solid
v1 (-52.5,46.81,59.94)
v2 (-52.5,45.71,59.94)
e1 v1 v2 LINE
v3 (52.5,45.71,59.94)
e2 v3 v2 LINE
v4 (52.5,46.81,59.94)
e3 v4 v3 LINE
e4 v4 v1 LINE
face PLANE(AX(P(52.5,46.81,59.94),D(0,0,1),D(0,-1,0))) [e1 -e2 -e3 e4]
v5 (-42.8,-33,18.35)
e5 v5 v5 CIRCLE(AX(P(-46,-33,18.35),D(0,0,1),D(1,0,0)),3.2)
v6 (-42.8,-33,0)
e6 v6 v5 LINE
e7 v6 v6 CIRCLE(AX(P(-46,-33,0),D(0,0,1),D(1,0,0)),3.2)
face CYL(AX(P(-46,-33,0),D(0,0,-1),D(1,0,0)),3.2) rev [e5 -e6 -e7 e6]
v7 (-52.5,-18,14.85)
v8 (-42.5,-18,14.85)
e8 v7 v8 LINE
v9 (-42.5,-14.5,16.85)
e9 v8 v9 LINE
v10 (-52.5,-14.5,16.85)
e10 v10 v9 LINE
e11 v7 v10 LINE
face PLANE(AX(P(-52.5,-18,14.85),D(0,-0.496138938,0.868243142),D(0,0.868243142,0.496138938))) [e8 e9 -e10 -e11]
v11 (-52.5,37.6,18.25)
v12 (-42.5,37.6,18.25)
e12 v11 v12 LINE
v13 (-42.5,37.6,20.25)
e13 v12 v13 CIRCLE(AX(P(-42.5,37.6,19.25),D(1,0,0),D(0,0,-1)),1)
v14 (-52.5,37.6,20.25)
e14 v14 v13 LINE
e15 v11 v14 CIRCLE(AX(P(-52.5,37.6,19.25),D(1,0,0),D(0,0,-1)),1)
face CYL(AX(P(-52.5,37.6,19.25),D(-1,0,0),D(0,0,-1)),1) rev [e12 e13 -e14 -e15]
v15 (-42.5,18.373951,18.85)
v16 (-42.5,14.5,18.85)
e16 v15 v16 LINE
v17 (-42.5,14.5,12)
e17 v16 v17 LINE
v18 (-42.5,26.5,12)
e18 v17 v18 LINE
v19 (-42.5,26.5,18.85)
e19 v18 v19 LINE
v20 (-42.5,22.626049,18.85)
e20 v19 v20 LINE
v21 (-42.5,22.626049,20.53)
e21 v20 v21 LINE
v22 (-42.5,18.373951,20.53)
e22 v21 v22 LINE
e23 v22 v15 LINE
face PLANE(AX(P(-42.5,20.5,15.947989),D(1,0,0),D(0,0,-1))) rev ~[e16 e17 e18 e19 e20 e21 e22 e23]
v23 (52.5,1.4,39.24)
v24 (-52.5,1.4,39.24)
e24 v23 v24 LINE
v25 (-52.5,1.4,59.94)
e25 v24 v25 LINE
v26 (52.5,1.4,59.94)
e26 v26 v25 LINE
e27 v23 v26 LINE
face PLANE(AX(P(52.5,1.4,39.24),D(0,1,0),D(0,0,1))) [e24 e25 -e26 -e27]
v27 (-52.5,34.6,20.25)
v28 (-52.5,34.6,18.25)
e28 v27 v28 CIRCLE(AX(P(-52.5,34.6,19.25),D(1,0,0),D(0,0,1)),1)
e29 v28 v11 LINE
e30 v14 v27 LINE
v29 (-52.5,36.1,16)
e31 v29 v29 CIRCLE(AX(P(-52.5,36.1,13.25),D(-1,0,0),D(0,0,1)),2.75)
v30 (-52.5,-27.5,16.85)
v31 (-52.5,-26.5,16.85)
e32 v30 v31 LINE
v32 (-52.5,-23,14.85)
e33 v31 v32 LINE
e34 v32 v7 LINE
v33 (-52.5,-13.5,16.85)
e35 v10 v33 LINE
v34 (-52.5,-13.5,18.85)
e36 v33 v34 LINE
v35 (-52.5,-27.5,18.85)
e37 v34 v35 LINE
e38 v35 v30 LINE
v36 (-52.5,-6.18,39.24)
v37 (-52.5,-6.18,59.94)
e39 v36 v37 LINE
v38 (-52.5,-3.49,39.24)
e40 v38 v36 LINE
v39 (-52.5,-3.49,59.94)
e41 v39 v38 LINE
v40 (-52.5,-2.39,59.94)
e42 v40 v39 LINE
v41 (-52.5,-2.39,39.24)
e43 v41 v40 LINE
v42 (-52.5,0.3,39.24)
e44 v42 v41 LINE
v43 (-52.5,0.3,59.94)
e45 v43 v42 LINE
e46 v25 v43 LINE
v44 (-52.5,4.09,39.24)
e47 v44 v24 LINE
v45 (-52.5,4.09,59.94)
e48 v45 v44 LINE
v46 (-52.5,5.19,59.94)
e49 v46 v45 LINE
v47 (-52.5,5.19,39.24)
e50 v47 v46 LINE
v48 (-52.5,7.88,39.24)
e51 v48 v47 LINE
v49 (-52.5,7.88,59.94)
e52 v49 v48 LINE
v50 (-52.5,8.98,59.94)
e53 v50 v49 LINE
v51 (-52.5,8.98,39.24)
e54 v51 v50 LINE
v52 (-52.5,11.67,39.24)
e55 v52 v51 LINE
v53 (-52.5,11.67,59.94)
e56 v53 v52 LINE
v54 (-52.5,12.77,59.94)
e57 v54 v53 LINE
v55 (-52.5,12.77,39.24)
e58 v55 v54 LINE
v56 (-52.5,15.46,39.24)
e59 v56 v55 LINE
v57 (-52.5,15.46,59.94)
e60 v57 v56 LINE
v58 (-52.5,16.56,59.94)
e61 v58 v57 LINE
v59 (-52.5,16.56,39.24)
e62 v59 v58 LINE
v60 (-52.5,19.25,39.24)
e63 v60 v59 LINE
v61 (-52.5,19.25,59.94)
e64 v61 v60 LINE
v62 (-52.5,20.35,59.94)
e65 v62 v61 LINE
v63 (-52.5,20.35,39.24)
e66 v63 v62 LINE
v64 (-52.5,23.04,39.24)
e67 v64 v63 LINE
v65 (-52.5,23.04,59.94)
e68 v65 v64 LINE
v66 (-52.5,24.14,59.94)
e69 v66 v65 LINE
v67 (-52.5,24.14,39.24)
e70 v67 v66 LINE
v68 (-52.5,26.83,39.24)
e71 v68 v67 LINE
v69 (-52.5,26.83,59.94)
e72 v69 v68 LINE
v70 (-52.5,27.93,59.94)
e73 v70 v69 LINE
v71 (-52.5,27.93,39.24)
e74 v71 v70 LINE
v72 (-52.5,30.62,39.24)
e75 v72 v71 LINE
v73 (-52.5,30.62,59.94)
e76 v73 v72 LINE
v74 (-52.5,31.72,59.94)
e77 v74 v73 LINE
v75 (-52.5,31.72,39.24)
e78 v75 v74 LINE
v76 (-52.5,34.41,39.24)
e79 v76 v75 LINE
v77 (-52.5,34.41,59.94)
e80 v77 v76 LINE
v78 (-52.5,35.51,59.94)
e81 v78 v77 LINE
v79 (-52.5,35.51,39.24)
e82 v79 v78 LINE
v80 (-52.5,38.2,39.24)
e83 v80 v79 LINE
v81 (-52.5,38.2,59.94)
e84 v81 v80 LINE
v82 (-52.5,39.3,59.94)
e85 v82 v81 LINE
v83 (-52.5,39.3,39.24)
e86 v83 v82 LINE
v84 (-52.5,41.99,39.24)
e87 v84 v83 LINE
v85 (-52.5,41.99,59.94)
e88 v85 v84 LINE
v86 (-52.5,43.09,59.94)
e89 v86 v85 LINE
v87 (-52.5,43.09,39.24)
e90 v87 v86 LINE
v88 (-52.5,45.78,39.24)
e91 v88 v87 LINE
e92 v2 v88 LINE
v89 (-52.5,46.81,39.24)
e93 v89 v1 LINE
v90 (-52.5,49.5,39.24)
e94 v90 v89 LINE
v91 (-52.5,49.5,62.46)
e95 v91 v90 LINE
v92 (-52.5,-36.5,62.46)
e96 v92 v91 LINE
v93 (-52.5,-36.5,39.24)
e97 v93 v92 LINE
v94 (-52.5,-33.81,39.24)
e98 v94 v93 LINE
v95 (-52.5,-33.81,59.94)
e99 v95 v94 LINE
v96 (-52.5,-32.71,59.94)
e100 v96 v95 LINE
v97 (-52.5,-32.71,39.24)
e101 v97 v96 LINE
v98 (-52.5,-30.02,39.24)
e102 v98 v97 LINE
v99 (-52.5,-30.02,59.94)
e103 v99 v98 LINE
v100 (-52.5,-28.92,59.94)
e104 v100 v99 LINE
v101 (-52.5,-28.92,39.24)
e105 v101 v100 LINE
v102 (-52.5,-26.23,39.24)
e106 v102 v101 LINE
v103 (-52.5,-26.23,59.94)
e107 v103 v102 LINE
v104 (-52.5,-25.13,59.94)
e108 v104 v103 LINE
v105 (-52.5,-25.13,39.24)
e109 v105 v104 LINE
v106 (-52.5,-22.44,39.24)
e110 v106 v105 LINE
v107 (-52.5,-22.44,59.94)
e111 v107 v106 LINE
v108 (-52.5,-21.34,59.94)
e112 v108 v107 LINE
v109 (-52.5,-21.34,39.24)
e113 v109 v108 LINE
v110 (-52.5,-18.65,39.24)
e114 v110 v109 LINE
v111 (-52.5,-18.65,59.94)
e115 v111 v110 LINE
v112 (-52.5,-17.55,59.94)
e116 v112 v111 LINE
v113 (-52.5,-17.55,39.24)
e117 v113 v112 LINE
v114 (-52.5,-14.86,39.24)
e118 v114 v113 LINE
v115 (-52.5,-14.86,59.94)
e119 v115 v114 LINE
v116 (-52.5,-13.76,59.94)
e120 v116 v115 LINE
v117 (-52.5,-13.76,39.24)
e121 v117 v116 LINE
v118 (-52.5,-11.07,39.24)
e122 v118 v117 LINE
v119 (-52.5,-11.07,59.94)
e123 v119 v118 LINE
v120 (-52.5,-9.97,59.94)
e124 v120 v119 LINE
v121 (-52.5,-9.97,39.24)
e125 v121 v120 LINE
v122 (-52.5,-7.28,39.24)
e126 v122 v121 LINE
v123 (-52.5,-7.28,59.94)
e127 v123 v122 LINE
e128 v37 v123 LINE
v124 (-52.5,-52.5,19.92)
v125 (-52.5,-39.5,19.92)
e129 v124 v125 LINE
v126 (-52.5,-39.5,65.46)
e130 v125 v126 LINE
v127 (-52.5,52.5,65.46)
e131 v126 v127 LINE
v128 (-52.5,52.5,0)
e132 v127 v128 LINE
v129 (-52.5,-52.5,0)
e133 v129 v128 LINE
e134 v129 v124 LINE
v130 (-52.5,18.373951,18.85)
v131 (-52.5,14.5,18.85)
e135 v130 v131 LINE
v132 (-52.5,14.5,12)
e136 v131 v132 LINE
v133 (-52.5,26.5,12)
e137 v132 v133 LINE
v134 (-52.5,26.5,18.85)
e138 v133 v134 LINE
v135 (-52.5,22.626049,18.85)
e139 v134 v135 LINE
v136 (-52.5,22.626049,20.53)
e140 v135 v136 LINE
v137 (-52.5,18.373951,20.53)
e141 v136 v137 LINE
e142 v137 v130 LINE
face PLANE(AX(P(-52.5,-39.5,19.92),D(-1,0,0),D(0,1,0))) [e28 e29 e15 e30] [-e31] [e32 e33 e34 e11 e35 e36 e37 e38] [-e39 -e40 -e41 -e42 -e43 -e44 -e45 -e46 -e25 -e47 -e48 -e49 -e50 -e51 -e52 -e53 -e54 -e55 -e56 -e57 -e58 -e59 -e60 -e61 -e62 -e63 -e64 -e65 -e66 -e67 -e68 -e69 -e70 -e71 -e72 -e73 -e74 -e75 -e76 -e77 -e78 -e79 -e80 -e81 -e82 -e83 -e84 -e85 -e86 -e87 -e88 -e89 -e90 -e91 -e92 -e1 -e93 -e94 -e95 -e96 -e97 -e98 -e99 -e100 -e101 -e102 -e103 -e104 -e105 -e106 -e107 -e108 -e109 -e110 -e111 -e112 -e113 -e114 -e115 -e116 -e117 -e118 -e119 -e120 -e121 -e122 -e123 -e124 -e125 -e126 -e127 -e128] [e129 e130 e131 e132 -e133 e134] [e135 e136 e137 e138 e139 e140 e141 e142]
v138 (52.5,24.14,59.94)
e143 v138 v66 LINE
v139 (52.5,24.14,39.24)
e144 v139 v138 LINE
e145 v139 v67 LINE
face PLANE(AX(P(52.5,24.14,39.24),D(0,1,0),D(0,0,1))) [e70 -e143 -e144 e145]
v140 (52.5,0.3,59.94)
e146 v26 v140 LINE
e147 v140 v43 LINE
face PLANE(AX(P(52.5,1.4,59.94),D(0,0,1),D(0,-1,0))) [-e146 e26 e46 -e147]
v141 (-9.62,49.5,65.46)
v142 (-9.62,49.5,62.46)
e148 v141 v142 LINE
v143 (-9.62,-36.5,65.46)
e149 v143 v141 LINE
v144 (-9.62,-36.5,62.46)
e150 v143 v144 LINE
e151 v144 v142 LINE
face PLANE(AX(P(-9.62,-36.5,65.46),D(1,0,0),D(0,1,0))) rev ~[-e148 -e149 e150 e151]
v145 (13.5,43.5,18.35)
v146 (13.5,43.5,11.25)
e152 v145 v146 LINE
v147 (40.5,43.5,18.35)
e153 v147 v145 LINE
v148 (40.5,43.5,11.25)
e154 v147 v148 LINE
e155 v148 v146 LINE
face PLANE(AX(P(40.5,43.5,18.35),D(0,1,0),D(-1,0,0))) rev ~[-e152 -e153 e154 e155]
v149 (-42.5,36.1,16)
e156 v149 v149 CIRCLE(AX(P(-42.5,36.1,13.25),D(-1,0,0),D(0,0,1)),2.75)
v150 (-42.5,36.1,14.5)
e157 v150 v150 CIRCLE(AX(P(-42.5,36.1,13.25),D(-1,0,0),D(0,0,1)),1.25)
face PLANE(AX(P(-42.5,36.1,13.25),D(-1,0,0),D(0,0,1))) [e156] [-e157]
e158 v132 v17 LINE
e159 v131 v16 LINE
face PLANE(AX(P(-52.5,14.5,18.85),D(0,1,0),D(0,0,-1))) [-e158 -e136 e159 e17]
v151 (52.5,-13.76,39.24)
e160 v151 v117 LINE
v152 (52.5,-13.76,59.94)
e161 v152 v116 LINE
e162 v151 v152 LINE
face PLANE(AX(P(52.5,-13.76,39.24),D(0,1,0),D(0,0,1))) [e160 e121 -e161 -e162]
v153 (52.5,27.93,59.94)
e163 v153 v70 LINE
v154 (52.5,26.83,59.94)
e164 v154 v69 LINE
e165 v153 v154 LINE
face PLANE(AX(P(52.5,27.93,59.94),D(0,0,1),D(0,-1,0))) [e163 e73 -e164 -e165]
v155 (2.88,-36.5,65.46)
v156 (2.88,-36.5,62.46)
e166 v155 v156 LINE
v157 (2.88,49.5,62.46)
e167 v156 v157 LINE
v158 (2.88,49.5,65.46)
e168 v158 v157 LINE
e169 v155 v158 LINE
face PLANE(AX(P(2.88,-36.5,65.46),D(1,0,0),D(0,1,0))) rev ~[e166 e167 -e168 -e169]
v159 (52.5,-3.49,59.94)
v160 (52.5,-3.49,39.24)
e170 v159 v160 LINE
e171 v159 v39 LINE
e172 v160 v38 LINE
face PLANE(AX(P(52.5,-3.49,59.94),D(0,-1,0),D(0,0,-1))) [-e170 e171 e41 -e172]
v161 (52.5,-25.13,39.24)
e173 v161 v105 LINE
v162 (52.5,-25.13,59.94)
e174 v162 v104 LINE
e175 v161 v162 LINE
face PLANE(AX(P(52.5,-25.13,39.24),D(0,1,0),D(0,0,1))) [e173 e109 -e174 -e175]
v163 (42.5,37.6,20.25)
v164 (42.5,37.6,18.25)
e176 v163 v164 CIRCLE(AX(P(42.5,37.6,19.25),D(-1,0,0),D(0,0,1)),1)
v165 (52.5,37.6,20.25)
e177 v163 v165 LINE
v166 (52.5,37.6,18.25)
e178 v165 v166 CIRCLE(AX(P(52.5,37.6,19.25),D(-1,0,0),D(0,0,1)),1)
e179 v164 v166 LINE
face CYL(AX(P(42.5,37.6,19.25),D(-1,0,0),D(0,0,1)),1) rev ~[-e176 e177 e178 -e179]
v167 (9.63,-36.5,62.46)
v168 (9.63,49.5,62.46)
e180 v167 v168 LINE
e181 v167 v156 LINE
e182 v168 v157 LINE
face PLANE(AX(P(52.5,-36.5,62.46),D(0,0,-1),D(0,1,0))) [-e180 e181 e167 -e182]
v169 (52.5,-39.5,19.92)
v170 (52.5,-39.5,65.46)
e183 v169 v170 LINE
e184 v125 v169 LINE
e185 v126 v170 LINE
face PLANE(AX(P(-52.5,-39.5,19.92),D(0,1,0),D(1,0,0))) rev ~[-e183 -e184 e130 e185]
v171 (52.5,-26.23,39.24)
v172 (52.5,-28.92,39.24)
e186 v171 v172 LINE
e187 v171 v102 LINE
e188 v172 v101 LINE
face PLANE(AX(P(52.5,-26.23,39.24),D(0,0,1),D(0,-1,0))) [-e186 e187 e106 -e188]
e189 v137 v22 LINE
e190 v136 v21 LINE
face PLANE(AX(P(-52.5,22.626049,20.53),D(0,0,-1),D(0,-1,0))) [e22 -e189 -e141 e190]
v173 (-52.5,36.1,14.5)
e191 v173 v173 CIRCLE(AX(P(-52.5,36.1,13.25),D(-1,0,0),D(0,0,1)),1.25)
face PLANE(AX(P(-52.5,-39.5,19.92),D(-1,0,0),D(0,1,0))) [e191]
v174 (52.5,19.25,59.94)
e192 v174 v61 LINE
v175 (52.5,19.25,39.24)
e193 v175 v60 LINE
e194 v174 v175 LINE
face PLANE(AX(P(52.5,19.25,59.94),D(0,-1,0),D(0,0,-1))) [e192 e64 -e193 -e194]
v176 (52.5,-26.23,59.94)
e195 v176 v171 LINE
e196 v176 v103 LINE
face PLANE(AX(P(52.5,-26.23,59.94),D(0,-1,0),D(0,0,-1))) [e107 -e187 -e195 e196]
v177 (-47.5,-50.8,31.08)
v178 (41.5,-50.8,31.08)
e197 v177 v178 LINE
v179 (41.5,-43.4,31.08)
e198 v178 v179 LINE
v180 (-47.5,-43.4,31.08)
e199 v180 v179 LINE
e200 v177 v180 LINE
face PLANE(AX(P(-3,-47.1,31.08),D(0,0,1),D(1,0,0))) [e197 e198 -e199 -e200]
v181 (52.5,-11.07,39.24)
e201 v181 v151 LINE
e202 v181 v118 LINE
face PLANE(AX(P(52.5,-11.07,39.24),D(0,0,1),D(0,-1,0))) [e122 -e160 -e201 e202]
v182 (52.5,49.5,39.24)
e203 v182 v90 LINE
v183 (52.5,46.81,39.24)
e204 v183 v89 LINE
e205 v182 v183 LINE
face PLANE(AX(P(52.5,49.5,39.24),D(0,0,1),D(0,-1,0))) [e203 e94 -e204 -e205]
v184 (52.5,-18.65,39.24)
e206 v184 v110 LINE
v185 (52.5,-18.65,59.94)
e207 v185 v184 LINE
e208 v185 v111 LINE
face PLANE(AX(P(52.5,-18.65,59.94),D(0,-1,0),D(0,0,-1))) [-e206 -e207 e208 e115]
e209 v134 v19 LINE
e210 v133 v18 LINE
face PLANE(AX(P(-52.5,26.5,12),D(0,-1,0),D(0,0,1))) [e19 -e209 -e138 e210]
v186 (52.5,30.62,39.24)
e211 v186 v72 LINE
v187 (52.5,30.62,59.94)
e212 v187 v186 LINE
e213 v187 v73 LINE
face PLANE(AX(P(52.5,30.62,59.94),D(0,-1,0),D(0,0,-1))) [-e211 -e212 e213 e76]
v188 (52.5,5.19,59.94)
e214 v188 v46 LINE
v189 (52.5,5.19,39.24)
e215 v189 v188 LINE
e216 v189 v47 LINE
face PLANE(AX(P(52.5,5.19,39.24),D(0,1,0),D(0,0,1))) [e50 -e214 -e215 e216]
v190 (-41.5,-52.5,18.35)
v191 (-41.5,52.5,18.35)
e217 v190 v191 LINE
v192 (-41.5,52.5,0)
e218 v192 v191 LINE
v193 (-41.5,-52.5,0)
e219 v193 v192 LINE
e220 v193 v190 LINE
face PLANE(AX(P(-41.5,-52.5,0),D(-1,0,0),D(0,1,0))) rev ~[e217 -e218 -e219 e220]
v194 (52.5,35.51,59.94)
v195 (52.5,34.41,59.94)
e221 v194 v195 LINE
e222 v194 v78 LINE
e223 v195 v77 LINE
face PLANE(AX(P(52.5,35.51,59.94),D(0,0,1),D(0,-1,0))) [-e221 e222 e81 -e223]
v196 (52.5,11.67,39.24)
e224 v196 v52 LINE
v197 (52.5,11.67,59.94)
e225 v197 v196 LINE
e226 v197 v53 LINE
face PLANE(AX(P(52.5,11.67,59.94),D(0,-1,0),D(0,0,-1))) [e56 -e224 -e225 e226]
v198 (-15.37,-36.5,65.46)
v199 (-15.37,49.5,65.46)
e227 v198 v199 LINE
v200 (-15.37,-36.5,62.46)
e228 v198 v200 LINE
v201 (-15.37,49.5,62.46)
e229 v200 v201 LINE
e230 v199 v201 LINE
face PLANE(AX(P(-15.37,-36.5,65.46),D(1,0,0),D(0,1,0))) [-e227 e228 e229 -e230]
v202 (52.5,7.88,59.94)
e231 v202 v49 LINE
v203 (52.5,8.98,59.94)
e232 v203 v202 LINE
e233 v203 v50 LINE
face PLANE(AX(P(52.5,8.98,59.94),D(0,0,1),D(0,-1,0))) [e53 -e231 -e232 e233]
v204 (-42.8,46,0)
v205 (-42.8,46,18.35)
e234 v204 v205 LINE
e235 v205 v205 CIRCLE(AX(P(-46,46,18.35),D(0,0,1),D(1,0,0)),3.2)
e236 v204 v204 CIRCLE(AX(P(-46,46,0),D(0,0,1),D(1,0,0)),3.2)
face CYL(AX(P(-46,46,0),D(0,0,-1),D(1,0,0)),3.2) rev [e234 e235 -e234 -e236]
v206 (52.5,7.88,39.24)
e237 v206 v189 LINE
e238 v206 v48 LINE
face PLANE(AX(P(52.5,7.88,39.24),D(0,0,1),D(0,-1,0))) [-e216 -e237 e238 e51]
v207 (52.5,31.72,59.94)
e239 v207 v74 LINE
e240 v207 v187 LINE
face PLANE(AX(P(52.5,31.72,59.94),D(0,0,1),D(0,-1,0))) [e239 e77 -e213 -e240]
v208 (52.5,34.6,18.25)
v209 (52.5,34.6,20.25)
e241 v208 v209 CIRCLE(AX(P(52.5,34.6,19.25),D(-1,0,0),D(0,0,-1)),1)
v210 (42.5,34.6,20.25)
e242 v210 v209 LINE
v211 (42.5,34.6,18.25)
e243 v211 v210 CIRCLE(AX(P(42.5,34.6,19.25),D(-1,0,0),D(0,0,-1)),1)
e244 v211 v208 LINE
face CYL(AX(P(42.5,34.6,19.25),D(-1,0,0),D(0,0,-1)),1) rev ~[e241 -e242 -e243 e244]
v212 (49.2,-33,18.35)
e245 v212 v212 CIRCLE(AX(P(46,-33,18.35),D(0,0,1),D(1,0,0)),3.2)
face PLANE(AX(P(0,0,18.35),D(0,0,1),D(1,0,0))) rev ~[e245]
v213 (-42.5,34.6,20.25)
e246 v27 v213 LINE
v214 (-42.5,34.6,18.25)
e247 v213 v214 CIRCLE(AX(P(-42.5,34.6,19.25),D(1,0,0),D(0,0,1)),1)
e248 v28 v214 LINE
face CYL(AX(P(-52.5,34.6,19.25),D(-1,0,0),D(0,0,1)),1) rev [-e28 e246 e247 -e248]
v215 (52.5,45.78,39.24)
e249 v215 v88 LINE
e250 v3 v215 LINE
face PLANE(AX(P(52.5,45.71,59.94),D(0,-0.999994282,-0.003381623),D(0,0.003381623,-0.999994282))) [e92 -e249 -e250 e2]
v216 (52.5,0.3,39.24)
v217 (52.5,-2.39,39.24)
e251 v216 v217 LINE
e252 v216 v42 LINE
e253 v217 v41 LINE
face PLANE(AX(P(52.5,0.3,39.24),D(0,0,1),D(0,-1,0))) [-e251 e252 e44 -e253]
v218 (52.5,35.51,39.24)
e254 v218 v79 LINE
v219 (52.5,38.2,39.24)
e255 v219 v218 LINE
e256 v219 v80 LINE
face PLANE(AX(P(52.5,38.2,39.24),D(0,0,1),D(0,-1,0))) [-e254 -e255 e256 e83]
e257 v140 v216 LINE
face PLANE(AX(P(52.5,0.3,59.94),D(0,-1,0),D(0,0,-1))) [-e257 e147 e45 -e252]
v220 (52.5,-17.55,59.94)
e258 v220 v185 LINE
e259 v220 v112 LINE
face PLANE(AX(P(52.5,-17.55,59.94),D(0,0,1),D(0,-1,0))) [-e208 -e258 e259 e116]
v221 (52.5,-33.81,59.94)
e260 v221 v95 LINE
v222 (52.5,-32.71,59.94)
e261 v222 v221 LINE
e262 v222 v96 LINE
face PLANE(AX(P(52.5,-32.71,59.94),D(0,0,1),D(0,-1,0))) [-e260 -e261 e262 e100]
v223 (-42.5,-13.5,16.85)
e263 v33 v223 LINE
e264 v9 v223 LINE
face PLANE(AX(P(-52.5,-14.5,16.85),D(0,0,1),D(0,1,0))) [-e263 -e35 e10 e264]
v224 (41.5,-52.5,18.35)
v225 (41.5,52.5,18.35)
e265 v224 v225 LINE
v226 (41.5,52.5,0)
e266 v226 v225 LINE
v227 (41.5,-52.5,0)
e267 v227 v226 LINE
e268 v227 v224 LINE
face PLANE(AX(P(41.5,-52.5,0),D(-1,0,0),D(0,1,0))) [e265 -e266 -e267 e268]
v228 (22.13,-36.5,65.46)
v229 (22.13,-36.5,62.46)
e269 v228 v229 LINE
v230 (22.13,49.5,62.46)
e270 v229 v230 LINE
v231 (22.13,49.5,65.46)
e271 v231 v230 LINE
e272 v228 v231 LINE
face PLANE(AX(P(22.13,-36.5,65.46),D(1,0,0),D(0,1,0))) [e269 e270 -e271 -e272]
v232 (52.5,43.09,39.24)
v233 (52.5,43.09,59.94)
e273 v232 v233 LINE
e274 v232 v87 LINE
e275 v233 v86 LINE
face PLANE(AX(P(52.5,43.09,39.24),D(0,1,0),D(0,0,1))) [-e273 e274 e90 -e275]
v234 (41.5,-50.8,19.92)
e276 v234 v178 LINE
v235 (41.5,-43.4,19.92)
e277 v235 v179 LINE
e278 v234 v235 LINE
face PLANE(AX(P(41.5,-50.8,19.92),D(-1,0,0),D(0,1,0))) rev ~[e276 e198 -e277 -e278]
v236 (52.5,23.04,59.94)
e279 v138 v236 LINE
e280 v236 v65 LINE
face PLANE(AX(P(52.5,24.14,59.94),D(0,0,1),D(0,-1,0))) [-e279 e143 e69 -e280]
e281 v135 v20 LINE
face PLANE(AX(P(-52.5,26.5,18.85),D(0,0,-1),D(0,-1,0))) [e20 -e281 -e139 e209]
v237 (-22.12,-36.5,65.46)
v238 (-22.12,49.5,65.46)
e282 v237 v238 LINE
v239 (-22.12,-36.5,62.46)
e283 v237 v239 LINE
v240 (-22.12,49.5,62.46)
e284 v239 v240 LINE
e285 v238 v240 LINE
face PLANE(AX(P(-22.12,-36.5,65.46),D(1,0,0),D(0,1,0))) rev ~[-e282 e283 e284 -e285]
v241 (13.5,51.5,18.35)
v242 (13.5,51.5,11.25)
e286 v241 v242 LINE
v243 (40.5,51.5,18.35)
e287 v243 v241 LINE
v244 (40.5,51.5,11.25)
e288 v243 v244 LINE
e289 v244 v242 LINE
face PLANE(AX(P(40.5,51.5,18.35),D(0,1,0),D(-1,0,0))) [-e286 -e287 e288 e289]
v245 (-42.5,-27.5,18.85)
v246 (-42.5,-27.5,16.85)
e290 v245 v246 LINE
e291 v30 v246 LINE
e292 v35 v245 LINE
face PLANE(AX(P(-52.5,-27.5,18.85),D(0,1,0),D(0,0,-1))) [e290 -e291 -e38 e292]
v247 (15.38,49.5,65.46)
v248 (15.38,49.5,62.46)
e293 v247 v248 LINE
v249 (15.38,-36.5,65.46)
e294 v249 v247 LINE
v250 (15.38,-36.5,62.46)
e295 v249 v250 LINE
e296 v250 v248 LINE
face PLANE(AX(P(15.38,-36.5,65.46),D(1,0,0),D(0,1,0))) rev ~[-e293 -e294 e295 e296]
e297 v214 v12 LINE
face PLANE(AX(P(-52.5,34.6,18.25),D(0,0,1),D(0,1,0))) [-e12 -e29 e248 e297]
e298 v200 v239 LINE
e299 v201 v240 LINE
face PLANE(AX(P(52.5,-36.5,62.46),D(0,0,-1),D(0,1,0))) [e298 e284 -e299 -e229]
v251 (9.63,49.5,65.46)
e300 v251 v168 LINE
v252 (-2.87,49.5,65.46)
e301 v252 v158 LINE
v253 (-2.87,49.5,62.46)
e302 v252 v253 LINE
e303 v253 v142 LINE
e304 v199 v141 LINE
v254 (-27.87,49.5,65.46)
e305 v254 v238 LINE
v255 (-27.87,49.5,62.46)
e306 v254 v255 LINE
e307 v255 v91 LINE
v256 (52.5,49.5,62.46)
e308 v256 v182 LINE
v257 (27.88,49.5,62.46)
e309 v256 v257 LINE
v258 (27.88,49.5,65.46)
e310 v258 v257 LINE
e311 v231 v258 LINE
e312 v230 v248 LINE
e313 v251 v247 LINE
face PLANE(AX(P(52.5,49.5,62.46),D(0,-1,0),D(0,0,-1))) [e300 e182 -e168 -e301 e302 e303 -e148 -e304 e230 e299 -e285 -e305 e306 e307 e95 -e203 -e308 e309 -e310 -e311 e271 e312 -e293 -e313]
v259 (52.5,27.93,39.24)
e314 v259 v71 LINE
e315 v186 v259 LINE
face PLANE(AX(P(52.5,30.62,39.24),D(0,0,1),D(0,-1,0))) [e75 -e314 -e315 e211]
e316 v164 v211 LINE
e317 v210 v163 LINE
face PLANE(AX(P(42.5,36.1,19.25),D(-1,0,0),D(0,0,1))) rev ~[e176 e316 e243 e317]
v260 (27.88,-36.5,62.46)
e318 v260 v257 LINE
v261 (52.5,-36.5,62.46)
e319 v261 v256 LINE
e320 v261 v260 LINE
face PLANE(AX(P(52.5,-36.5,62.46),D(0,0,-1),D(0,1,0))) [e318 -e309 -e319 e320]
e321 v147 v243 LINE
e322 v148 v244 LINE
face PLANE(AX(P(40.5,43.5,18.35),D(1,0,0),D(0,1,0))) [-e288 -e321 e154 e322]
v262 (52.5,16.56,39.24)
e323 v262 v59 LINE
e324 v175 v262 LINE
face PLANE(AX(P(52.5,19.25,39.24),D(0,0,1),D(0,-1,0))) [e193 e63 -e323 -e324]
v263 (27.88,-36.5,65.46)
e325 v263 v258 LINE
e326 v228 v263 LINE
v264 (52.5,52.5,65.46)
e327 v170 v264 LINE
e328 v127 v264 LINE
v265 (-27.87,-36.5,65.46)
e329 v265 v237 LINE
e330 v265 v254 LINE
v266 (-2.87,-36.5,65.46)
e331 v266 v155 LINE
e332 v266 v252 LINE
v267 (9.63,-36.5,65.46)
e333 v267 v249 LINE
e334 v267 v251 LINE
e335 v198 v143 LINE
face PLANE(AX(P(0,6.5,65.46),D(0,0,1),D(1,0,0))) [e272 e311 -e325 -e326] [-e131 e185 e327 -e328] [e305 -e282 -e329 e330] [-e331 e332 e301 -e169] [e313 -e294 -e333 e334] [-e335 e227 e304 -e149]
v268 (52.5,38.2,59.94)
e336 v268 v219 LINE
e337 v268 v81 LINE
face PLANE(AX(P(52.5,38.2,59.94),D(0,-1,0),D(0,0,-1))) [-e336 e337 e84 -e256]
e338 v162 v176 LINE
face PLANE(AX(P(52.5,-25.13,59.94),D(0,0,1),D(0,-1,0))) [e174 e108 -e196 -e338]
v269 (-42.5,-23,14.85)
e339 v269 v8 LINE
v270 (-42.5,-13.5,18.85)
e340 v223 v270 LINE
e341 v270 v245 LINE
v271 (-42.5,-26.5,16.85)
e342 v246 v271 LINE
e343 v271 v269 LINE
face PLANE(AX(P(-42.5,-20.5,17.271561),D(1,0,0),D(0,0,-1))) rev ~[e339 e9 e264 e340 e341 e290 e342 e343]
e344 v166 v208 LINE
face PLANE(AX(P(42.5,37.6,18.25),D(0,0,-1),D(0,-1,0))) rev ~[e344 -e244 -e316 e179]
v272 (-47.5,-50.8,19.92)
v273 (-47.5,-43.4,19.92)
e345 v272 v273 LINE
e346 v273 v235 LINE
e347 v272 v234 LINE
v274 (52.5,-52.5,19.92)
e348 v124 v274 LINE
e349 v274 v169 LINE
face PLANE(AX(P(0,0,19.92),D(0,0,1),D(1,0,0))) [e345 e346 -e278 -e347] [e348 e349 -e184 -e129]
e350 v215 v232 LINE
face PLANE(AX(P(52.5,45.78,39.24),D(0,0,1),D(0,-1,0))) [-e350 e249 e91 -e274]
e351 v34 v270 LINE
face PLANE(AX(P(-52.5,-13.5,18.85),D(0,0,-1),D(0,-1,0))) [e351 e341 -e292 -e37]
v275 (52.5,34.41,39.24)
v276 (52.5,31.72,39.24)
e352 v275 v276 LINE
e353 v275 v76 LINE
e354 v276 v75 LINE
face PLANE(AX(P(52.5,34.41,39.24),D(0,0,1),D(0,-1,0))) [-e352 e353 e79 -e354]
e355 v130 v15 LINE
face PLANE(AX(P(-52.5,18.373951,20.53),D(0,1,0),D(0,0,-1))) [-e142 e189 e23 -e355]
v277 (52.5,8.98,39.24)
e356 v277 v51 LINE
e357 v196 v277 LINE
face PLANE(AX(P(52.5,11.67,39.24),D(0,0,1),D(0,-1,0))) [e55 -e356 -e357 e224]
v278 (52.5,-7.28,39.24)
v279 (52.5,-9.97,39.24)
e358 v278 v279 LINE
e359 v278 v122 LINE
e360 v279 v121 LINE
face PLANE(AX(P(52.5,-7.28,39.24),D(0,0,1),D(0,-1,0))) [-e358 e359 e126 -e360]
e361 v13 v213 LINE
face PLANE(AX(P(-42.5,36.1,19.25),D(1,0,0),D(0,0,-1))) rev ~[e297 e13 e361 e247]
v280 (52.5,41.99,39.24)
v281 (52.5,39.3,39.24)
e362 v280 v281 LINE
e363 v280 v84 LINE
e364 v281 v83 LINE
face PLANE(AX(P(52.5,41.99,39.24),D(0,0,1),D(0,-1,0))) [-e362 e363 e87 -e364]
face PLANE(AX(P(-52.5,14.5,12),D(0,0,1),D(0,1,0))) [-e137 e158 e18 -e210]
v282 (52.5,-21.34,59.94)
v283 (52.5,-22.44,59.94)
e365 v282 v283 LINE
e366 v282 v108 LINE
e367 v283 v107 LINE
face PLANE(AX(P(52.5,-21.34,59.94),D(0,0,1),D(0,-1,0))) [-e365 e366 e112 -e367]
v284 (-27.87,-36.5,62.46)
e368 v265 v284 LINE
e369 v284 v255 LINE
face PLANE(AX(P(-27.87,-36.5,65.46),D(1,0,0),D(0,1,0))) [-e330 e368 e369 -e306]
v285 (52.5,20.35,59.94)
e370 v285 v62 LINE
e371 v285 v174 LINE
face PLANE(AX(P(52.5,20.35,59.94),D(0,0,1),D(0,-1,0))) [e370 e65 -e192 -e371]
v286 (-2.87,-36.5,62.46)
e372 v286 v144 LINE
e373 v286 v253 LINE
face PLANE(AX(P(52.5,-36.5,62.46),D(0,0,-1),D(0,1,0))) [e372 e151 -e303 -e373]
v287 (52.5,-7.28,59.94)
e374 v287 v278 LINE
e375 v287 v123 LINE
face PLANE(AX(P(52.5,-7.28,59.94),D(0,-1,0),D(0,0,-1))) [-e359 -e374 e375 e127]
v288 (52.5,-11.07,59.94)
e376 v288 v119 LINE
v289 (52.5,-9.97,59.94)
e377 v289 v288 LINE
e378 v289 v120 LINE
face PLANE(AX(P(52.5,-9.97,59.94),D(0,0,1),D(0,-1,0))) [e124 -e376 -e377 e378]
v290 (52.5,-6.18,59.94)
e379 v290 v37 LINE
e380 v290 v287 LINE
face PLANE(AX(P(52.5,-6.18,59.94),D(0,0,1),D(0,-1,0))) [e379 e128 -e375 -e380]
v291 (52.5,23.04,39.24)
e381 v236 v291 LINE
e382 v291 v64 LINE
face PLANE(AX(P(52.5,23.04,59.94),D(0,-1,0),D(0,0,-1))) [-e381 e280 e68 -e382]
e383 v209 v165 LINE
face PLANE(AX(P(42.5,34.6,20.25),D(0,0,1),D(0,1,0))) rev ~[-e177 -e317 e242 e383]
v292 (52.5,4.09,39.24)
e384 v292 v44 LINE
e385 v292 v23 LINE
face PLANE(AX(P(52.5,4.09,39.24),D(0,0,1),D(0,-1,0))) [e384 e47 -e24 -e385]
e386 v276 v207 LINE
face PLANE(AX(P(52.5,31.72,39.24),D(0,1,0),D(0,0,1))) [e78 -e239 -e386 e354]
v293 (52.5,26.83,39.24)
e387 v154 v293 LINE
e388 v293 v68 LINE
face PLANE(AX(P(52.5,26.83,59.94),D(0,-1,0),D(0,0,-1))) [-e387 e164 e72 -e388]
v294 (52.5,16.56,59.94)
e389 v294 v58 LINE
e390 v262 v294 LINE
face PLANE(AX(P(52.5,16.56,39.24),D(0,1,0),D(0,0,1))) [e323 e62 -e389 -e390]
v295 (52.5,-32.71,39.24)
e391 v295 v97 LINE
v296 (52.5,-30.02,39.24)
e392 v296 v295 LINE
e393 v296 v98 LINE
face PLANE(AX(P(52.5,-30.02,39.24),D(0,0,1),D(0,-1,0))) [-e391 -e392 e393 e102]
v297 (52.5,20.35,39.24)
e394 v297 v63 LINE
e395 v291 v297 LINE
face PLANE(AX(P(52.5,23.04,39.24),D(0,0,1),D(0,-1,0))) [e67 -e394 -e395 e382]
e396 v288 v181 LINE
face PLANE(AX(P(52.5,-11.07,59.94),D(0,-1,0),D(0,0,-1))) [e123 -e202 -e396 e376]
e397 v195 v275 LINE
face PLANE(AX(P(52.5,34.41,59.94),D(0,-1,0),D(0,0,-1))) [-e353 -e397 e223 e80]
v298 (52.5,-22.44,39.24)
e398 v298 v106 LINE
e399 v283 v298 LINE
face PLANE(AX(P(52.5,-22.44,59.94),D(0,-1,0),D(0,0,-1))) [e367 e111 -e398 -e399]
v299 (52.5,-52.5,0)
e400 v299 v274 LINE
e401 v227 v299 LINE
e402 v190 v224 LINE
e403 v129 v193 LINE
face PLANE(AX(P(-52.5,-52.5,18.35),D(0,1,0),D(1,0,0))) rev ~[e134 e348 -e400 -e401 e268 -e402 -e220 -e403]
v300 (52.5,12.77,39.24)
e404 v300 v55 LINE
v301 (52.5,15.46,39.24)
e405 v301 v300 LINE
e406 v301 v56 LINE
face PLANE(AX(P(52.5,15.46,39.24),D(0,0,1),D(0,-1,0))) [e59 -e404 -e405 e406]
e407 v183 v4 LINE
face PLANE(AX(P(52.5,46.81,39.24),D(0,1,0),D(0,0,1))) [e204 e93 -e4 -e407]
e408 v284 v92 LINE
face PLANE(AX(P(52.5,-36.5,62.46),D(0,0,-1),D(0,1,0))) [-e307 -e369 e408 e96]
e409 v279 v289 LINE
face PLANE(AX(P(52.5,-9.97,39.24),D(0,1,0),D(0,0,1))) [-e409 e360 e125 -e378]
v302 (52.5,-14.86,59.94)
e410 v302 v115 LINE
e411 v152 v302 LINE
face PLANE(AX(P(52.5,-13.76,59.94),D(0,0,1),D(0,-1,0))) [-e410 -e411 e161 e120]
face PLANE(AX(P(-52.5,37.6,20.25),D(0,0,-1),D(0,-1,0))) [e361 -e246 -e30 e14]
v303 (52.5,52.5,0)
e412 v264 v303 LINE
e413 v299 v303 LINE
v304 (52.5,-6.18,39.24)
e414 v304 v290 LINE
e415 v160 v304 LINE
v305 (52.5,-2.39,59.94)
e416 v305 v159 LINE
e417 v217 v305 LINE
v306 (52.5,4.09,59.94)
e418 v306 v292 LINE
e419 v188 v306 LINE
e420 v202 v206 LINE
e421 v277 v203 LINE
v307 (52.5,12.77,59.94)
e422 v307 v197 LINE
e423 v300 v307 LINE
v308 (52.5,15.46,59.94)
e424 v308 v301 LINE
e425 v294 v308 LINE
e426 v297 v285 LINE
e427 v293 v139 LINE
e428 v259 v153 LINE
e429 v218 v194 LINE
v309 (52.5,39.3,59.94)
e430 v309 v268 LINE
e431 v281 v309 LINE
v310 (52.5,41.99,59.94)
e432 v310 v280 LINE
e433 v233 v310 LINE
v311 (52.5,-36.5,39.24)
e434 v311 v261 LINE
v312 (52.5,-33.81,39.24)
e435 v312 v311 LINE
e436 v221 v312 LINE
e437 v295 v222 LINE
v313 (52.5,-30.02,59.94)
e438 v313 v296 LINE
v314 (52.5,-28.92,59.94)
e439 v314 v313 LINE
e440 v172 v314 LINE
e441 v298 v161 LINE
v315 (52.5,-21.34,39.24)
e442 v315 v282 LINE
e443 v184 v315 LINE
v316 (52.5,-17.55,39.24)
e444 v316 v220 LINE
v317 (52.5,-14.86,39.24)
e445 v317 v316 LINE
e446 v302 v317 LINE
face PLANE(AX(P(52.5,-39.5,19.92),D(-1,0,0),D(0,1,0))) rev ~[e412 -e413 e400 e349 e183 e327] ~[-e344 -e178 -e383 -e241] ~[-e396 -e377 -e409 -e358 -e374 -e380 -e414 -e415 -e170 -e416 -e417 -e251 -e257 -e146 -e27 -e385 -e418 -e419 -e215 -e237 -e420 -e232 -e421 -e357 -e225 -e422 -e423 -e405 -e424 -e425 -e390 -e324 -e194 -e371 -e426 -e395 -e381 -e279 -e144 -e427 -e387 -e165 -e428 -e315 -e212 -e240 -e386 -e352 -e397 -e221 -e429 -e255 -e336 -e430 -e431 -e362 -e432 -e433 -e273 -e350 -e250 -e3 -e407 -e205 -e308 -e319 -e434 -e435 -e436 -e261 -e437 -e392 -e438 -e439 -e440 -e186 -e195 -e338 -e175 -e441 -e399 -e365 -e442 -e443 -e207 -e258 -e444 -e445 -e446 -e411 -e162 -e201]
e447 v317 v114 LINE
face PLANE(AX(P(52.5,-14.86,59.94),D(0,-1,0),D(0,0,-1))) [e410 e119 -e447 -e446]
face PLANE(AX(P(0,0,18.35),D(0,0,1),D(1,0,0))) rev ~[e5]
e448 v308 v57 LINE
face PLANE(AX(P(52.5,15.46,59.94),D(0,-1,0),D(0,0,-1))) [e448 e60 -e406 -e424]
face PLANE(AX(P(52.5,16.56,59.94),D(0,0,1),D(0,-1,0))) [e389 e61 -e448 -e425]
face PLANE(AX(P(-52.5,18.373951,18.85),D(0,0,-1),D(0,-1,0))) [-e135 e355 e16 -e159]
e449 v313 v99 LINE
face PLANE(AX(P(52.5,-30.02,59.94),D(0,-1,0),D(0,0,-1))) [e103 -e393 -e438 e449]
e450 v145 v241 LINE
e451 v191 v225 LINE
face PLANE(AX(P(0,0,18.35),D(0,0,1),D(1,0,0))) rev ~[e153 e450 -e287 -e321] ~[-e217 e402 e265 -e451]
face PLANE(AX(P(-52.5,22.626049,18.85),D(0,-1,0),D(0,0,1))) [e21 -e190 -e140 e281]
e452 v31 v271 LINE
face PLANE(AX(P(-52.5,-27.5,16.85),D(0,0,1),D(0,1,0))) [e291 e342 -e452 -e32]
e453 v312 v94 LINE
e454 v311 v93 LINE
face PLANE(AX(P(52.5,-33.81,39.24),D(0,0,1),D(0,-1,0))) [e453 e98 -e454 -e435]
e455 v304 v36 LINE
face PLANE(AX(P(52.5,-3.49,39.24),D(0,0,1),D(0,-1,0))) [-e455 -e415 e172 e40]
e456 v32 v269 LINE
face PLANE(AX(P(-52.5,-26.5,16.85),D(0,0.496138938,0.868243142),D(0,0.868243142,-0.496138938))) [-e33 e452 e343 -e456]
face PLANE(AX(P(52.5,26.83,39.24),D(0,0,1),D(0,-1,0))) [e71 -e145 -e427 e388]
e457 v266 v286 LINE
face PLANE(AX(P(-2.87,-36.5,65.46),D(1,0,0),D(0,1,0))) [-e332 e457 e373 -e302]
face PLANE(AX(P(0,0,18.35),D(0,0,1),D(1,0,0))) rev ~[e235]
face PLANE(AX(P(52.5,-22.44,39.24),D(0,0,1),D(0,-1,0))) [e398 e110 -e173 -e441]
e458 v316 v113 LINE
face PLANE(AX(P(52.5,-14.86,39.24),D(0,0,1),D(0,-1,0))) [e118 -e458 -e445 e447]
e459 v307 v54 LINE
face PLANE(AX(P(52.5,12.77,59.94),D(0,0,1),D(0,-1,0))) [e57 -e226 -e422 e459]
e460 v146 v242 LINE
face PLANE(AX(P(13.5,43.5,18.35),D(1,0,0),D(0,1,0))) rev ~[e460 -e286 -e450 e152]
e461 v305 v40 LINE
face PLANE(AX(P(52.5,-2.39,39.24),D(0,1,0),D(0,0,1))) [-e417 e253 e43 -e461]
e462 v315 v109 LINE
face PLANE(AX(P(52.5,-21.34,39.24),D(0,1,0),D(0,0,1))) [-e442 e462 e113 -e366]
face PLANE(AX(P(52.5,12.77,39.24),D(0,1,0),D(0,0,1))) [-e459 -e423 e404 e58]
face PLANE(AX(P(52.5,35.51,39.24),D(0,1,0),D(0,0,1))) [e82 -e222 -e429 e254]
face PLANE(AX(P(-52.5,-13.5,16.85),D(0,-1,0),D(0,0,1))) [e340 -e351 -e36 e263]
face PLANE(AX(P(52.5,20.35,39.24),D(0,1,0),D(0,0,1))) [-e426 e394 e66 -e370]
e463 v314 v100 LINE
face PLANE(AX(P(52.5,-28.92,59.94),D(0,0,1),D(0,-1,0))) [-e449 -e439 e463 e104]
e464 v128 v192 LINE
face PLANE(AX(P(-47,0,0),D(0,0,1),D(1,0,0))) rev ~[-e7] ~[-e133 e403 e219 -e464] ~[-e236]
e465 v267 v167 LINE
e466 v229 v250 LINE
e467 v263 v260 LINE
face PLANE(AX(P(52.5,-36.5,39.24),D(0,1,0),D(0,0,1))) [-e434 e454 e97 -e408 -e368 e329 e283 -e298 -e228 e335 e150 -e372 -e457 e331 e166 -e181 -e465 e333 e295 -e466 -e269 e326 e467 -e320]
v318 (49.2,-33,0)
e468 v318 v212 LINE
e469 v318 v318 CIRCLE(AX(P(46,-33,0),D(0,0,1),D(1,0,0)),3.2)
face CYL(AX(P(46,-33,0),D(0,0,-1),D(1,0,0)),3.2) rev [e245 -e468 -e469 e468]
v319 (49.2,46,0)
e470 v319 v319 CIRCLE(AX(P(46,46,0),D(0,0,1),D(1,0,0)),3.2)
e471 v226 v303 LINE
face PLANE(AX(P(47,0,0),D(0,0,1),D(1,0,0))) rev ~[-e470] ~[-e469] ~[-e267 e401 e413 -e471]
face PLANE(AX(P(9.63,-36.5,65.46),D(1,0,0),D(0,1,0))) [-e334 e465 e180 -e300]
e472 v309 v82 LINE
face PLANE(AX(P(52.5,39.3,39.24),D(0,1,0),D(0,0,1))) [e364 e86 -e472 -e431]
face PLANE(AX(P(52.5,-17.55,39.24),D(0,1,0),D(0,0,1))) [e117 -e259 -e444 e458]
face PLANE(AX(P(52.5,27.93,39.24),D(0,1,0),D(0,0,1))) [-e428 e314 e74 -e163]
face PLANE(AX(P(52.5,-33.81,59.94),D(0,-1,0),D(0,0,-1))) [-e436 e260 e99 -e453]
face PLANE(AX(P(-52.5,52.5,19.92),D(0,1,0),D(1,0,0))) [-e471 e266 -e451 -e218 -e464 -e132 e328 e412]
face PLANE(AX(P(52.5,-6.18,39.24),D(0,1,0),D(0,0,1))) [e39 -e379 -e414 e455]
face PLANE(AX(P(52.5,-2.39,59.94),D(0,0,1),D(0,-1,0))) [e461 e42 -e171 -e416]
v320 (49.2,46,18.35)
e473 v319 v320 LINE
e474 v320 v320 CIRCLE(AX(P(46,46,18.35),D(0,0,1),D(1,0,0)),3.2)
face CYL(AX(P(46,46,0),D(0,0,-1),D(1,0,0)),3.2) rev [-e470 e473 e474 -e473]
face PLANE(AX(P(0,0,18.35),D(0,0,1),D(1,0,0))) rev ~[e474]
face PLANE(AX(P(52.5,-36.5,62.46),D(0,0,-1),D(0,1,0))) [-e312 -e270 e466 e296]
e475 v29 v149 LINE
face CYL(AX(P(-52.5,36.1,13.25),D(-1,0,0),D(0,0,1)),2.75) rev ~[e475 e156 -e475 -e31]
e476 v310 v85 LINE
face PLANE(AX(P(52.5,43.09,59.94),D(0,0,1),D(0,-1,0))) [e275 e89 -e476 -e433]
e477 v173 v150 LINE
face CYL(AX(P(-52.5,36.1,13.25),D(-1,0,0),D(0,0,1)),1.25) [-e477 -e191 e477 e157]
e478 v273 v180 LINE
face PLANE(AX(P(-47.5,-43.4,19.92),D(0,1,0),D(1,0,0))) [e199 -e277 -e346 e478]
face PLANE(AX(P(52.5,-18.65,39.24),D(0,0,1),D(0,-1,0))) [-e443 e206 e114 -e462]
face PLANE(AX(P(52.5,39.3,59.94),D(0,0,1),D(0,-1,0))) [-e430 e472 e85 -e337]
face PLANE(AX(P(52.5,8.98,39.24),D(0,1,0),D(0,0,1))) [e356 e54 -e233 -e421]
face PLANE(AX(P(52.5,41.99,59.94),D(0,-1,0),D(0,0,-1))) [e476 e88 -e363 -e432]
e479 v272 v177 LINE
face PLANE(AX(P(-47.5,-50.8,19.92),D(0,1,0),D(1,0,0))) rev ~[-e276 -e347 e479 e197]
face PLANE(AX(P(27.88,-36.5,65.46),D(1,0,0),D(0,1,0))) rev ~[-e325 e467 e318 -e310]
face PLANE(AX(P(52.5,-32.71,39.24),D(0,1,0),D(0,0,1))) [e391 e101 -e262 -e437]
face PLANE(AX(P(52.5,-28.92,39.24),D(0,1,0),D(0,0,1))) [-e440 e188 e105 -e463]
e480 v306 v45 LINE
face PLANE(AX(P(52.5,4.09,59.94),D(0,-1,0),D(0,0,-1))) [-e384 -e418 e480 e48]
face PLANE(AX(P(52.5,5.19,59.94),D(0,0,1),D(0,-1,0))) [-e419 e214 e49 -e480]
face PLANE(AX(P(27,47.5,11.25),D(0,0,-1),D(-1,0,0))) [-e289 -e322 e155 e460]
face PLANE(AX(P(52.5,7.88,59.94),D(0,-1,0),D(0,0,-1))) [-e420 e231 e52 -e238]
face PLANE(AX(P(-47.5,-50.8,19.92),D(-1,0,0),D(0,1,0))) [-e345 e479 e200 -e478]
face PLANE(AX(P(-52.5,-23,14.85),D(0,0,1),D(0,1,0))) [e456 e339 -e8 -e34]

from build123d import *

# Parameters (mm, degrees)
ESQUISSE1_W             = 11
ESQUISSE1_H             = 105
ESQUISSE1_R             = 3.2
BOSS_EXTRU_1_DEPTH      = 18.35
BOSS_EXTRU_1_2_DEPTH    = 18.35
ESQUISSE2_W             = 105
ESQUISSE2_H             = 105
BOSS_EXTRU_2_DEPTH      = 1.57
ESQUISSE3_W             = 105
ESQUISSE3_H             = 92
BOSS_EXTRU_3_DEPTH      = 45.54
ESQUISSE4_W             = 89
ESQUISSE4_H             = 7.4
BOSS_EXTRU_4_DEPTH      = 11.16
ENL_V_MAT_EXTRU_1_REACH = 136.411
ENL_V_MAT_EXTRU_2_REACH = 100.982
ESQUISSE7_W             = 5.75
ESQUISSE7_H             = 86
ESQUISSE8_W             = 27
ESQUISSE8_H             = 8
BOSS_EXTRU_5_DEPTH      = 7.1
ESQUISSE9_R             = 2.75
ESQUISSE9_R_2           = 1.25
ENL_V_MAT_EXTRU_3_DEPTH = 10
ENL_V_START             = -10
ENL_V_MAT_EXTRU_4_DEPTH = 10


with BuildPart() as part:
    # Esquisse1 → Boss.-Extru.1 (new body)
    with BuildSketch(Plane.XY):
        with Locations((-47, 0)):
            Rectangle(ESQUISSE1_W, ESQUISSE1_H)
        with Locations((-46, 46)):
            Circle(ESQUISSE1_R, mode=Mode.SUBTRACT)
        with Locations((-46, -33)):
            Circle(ESQUISSE1_R, mode=Mode.SUBTRACT)
    extrude(amount=BOSS_EXTRU_1_DEPTH)



with BuildPart() as body_2:
    # Esquisse1 → Boss.-Extru.1 2 (new body)
    with BuildSketch(Plane.XY):
        with Locations((47, 0)):
            Rectangle(ESQUISSE1_W, ESQUISSE1_H)
        with Locations((46, 46)):
            Circle(ESQUISSE1_R, mode=Mode.SUBTRACT)
        with Locations((46, -33)):
            Circle(ESQUISSE1_R, mode=Mode.SUBTRACT)
    extrude(amount=BOSS_EXTRU_1_2_DEPTH)


with BuildPart() as part_1:
    add(part.part)

    add(body_2.part)  # Boss.-Extru.2 merges body 2
    # Esquisse2 → Boss.-Extru.2 (add)
    with BuildSketch(Plane.XY.offset(18.35)):
        Rectangle(ESQUISSE2_W, ESQUISSE2_H)
    extrude(amount=BOSS_EXTRU_2_DEPTH)

    # Esquisse3 → Boss.-Extru.3 (add)
    with BuildSketch(Plane.XY.offset(19.92)):
        with Locations((0, 6.5)):
            Rectangle(ESQUISSE3_W, ESQUISSE3_H)
    extrude(amount=BOSS_EXTRU_3_DEPTH)

    # Esquisse4 → Boss.-Extru.4 (add)
    with BuildSketch(Plane.XY.offset(19.92)):
        with Locations((-3, -47.1)):
            Rectangle(ESQUISSE4_W, ESQUISSE4_H)
    extrude(amount=BOSS_EXTRU_4_DEPTH)

    # Esquisse6 → Enlèv. mat.-Extru.1 (cut, up to next)
    with BuildSketch(Plane(origin=(52.5, 0, 0), x_dir=(0, 0, -1), z_dir=(1, 0, 0)), mode=Mode.PRIVATE) as enl_v_mat_extru_1_sk1:
        Polygon((-62.46, -36.5), (-62.46, 49.5), (-39.24, 49.5), (-39.24, 46.81), (-59.94, 46.81), (-59.94, 45.71), (-39.24, 45.78), (-39.24, 43.09), (-59.94, 43.09), (-59.94, 41.99), (-39.24, 41.99), (-39.24, 39.3), (-59.94, 39.3), (-59.94, 38.2), (-39.24, 38.2), (-39.24, 35.51), (-59.94, 35.51), (-59.94, 34.41), (-39.24, 34.41), (-39.24, 31.72), (-59.94, 31.72), (-59.94, 30.62), (-39.24, 30.62), (-39.24, 27.93), (-59.94, 27.93), (-59.94, 26.83), (-39.24, 26.83), (-39.24, 24.14), (-59.94, 24.14), (-59.94, 23.04), (-39.24, 23.04), (-39.24, 20.35), (-59.94, 20.35), (-59.94, 19.25), (-39.24, 19.25), (-39.24, 16.56), (-59.94, 16.56), (-59.94, 15.46), (-39.24, 15.46), (-39.24, 12.77), (-59.94, 12.77), (-59.94, 11.67), (-39.24, 11.67), (-39.24, 8.98), (-59.94, 8.98), (-59.94, 7.88), (-39.24, 7.88), (-39.24, 5.19), (-59.94, 5.19), (-59.94, 4.09), (-39.24, 4.09), (-39.24, 1.4), (-59.94, 1.4), (-59.94, 0.3), (-39.24, 0.3), (-39.24, -2.39), (-59.94, -2.39), (-59.94, -3.49), (-39.24, -3.49), (-39.24, -6.18), (-59.94, -6.18), (-59.94, -7.28), (-39.24, -7.28), (-39.24, -9.97), (-59.94, -9.97), (-59.94, -11.07), (-39.24, -11.07), (-39.24, -13.76), (-59.94, -13.76), (-59.94, -14.86), (-39.24, -14.86), (-39.24, -17.55), (-59.94, -17.55), (-59.94, -18.65), (-39.24, -18.65), (-39.24, -21.34), (-59.94, -21.34), (-59.94, -22.44), (-39.24, -22.44), (-39.24, -25.13), (-59.94, -25.13), (-59.94, -26.23), (-39.24, -26.23), (-39.24, -28.92), (-59.94, -28.92), (-59.94, -30.02), (-39.24, -30.02), (-39.24, -32.71), (-59.94, -32.71), (-59.94, -33.81), (-39.24, -33.81), (-39.24, -36.5), align=None)
    enl_v_mat_extru_1_tool1 = extrude(enl_v_mat_extru_1_sk1.sketch, amount=-ENL_V_MAT_EXTRU_1_REACH, mode=Mode.PRIVATE) & part_1.part
    add(enl_v_mat_extru_1_tool1.solids().sort_by_distance((52.5, 6.508342, 51.269436))[0], mode=Mode.SUBTRACT)

    # Esquisse7 → Enlèv. mat.-Extru.2 (cut, up to next)
    with BuildSketch(Plane.XY.offset(65.46), mode=Mode.PRIVATE) as enl_v_mat_extru_2_sk1:
        with Locations((0.005, 6.5)):
            Rectangle(ESQUISSE7_W, ESQUISSE7_H)
    enl_v_mat_extru_2_tool1 = extrude(enl_v_mat_extru_2_sk1.sketch, amount=-ENL_V_MAT_EXTRU_2_REACH, mode=Mode.PRIVATE) & part_1.part
    # Esquisse7 → Enlèv. mat.-Extru.2 (cut, up to next)
    with BuildSketch(Plane.XY.offset(65.46), mode=Mode.PRIVATE) as enl_v_mat_extru_2_sk2:
        with Locations((-12.495, 6.5)):
            Rectangle(ESQUISSE7_W, ESQUISSE7_H)
    enl_v_mat_extru_2_tool2 = extrude(enl_v_mat_extru_2_sk2.sketch, amount=-ENL_V_MAT_EXTRU_2_REACH, mode=Mode.PRIVATE) & part_1.part
    # Esquisse7 → Enlèv. mat.-Extru.2 (cut, up to next)
    with BuildSketch(Plane.XY.offset(65.46), mode=Mode.PRIVATE) as enl_v_mat_extru_2_sk3:
        with Locations((-24.995, 6.5)):
            Rectangle(ESQUISSE7_W, ESQUISSE7_H)
    enl_v_mat_extru_2_tool3 = extrude(enl_v_mat_extru_2_sk3.sketch, amount=-ENL_V_MAT_EXTRU_2_REACH, mode=Mode.PRIVATE) & part_1.part
    # Esquisse7 → Enlèv. mat.-Extru.2 (cut, up to next)
    with BuildSketch(Plane.XY.offset(65.46), mode=Mode.PRIVATE) as enl_v_mat_extru_2_sk4:
        with Locations((25.005, 6.5)):
            Rectangle(ESQUISSE7_W, ESQUISSE7_H)
    enl_v_mat_extru_2_tool4 = extrude(enl_v_mat_extru_2_sk4.sketch, amount=-ENL_V_MAT_EXTRU_2_REACH, mode=Mode.PRIVATE) & part_1.part
    # Esquisse7 → Enlèv. mat.-Extru.2 (cut, up to next)
    with BuildSketch(Plane.XY.offset(65.46), mode=Mode.PRIVATE) as enl_v_mat_extru_2_sk5:
        with Locations((12.505, 6.5)):
            Rectangle(ESQUISSE7_W, ESQUISSE7_H)
    enl_v_mat_extru_2_tool5 = extrude(enl_v_mat_extru_2_sk5.sketch, amount=-ENL_V_MAT_EXTRU_2_REACH, mode=Mode.PRIVATE) & part_1.part
    add(enl_v_mat_extru_2_tool1.solids().sort_by_distance((0.005, 6.5, 65.46))[0], mode=Mode.SUBTRACT)
    add(enl_v_mat_extru_2_tool2.solids().sort_by_distance((-12.495, 6.5, 65.46))[0], mode=Mode.SUBTRACT)
    add(enl_v_mat_extru_2_tool3.solids().sort_by_distance((-24.995, 6.5, 65.46))[0], mode=Mode.SUBTRACT)
    add(enl_v_mat_extru_2_tool4.solids().sort_by_distance((25.005, 6.5, 65.46))[0], mode=Mode.SUBTRACT)
    add(enl_v_mat_extru_2_tool5.solids().sort_by_distance((12.505, 6.5, 65.46))[0], mode=Mode.SUBTRACT)

    # Esquisse8 → Boss.-Extru.5 (add)
    with BuildSketch(Plane(origin=(0, 0, 18.35), x_dir=(-1, 0, 0), z_dir=(0, 0, -1))):
        with Locations((-27, 47.5)):
            Rectangle(ESQUISSE8_W, ESQUISSE8_H)
    extrude(amount=BOSS_EXTRU_5_DEPTH)

    # Esquisse9 → Enlèv. mat.-Extru.3 (cut)
    # profile 1 of 4: a face of its own
    with BuildSketch(Plane.ZY.offset(52.5)):
        with Locations((13.25, 36.1)):
            Circle(ESQUISSE9_R)
        with Locations((13.25, 36.1)):
            Circle(ESQUISSE9_R_2, mode=Mode.SUBTRACT)
    # profile 2 of 4: a face of its own
    with BuildSketch(Plane.ZY.offset(52.5)):
        Polygon((18.85, 26.5), (18.85, 22.626049106), (20.53, 22.626049106), (20.53, 18.373950894), (18.85, 18.373950894), (18.85, 14.5), (12, 14.5), (12, 26.5), align=None)
    # profile 3 of 4: a face of its own
    with BuildSketch(Plane.ZY.offset(52.5)):
        with BuildLine():
            Line((20.25, 37.6), (20.25, 34.6))
            ThreePointArc((20.25, 34.6), (19.25, 33.6), (18.25, 34.6))
            Line((18.25, 34.6), (18.25, 37.6))
            ThreePointArc((18.25, 37.6), (19.25, 38.6), (20.25, 37.6))
        make_face()
    # profile 4 of 4: a face of its own
    with BuildSketch(Plane.ZY.offset(52.5)):
        Polygon((18.85, -13.5), (18.85, -27.5), (16.85, -27.5), (16.85, -26.5), (14.85, -23), (14.85, -18), (16.85, -14.5), (16.85, -13.5), align=None)
    extrude(amount=-ENL_V_MAT_EXTRU_3_DEPTH, mode=Mode.SUBTRACT)

    # Esquisse10 → Enlèv. mat.-Extru.4 (cut)
    with BuildSketch(Plane(origin=(52.5, 0, 0), x_dir=(0, 0, -1), z_dir=(1, 0, 0)).offset(ENL_V_START)):
        with BuildLine():
            Line((-20.25, 34.6), (-20.25, 37.6))
            ThreePointArc((-20.25, 37.6), (-19.25, 38.6), (-18.25, 37.6))
            Line((-18.25, 37.6), (-18.25, 34.6))
            ThreePointArc((-18.25, 34.6), (-19.25, 33.6), (-20.25, 34.6))
        make_face()
    extrude(amount=ENL_V_MAT_EXTRU_4_DEPTH, mode=Mode.SUBTRACT)


solid = part_1.part
